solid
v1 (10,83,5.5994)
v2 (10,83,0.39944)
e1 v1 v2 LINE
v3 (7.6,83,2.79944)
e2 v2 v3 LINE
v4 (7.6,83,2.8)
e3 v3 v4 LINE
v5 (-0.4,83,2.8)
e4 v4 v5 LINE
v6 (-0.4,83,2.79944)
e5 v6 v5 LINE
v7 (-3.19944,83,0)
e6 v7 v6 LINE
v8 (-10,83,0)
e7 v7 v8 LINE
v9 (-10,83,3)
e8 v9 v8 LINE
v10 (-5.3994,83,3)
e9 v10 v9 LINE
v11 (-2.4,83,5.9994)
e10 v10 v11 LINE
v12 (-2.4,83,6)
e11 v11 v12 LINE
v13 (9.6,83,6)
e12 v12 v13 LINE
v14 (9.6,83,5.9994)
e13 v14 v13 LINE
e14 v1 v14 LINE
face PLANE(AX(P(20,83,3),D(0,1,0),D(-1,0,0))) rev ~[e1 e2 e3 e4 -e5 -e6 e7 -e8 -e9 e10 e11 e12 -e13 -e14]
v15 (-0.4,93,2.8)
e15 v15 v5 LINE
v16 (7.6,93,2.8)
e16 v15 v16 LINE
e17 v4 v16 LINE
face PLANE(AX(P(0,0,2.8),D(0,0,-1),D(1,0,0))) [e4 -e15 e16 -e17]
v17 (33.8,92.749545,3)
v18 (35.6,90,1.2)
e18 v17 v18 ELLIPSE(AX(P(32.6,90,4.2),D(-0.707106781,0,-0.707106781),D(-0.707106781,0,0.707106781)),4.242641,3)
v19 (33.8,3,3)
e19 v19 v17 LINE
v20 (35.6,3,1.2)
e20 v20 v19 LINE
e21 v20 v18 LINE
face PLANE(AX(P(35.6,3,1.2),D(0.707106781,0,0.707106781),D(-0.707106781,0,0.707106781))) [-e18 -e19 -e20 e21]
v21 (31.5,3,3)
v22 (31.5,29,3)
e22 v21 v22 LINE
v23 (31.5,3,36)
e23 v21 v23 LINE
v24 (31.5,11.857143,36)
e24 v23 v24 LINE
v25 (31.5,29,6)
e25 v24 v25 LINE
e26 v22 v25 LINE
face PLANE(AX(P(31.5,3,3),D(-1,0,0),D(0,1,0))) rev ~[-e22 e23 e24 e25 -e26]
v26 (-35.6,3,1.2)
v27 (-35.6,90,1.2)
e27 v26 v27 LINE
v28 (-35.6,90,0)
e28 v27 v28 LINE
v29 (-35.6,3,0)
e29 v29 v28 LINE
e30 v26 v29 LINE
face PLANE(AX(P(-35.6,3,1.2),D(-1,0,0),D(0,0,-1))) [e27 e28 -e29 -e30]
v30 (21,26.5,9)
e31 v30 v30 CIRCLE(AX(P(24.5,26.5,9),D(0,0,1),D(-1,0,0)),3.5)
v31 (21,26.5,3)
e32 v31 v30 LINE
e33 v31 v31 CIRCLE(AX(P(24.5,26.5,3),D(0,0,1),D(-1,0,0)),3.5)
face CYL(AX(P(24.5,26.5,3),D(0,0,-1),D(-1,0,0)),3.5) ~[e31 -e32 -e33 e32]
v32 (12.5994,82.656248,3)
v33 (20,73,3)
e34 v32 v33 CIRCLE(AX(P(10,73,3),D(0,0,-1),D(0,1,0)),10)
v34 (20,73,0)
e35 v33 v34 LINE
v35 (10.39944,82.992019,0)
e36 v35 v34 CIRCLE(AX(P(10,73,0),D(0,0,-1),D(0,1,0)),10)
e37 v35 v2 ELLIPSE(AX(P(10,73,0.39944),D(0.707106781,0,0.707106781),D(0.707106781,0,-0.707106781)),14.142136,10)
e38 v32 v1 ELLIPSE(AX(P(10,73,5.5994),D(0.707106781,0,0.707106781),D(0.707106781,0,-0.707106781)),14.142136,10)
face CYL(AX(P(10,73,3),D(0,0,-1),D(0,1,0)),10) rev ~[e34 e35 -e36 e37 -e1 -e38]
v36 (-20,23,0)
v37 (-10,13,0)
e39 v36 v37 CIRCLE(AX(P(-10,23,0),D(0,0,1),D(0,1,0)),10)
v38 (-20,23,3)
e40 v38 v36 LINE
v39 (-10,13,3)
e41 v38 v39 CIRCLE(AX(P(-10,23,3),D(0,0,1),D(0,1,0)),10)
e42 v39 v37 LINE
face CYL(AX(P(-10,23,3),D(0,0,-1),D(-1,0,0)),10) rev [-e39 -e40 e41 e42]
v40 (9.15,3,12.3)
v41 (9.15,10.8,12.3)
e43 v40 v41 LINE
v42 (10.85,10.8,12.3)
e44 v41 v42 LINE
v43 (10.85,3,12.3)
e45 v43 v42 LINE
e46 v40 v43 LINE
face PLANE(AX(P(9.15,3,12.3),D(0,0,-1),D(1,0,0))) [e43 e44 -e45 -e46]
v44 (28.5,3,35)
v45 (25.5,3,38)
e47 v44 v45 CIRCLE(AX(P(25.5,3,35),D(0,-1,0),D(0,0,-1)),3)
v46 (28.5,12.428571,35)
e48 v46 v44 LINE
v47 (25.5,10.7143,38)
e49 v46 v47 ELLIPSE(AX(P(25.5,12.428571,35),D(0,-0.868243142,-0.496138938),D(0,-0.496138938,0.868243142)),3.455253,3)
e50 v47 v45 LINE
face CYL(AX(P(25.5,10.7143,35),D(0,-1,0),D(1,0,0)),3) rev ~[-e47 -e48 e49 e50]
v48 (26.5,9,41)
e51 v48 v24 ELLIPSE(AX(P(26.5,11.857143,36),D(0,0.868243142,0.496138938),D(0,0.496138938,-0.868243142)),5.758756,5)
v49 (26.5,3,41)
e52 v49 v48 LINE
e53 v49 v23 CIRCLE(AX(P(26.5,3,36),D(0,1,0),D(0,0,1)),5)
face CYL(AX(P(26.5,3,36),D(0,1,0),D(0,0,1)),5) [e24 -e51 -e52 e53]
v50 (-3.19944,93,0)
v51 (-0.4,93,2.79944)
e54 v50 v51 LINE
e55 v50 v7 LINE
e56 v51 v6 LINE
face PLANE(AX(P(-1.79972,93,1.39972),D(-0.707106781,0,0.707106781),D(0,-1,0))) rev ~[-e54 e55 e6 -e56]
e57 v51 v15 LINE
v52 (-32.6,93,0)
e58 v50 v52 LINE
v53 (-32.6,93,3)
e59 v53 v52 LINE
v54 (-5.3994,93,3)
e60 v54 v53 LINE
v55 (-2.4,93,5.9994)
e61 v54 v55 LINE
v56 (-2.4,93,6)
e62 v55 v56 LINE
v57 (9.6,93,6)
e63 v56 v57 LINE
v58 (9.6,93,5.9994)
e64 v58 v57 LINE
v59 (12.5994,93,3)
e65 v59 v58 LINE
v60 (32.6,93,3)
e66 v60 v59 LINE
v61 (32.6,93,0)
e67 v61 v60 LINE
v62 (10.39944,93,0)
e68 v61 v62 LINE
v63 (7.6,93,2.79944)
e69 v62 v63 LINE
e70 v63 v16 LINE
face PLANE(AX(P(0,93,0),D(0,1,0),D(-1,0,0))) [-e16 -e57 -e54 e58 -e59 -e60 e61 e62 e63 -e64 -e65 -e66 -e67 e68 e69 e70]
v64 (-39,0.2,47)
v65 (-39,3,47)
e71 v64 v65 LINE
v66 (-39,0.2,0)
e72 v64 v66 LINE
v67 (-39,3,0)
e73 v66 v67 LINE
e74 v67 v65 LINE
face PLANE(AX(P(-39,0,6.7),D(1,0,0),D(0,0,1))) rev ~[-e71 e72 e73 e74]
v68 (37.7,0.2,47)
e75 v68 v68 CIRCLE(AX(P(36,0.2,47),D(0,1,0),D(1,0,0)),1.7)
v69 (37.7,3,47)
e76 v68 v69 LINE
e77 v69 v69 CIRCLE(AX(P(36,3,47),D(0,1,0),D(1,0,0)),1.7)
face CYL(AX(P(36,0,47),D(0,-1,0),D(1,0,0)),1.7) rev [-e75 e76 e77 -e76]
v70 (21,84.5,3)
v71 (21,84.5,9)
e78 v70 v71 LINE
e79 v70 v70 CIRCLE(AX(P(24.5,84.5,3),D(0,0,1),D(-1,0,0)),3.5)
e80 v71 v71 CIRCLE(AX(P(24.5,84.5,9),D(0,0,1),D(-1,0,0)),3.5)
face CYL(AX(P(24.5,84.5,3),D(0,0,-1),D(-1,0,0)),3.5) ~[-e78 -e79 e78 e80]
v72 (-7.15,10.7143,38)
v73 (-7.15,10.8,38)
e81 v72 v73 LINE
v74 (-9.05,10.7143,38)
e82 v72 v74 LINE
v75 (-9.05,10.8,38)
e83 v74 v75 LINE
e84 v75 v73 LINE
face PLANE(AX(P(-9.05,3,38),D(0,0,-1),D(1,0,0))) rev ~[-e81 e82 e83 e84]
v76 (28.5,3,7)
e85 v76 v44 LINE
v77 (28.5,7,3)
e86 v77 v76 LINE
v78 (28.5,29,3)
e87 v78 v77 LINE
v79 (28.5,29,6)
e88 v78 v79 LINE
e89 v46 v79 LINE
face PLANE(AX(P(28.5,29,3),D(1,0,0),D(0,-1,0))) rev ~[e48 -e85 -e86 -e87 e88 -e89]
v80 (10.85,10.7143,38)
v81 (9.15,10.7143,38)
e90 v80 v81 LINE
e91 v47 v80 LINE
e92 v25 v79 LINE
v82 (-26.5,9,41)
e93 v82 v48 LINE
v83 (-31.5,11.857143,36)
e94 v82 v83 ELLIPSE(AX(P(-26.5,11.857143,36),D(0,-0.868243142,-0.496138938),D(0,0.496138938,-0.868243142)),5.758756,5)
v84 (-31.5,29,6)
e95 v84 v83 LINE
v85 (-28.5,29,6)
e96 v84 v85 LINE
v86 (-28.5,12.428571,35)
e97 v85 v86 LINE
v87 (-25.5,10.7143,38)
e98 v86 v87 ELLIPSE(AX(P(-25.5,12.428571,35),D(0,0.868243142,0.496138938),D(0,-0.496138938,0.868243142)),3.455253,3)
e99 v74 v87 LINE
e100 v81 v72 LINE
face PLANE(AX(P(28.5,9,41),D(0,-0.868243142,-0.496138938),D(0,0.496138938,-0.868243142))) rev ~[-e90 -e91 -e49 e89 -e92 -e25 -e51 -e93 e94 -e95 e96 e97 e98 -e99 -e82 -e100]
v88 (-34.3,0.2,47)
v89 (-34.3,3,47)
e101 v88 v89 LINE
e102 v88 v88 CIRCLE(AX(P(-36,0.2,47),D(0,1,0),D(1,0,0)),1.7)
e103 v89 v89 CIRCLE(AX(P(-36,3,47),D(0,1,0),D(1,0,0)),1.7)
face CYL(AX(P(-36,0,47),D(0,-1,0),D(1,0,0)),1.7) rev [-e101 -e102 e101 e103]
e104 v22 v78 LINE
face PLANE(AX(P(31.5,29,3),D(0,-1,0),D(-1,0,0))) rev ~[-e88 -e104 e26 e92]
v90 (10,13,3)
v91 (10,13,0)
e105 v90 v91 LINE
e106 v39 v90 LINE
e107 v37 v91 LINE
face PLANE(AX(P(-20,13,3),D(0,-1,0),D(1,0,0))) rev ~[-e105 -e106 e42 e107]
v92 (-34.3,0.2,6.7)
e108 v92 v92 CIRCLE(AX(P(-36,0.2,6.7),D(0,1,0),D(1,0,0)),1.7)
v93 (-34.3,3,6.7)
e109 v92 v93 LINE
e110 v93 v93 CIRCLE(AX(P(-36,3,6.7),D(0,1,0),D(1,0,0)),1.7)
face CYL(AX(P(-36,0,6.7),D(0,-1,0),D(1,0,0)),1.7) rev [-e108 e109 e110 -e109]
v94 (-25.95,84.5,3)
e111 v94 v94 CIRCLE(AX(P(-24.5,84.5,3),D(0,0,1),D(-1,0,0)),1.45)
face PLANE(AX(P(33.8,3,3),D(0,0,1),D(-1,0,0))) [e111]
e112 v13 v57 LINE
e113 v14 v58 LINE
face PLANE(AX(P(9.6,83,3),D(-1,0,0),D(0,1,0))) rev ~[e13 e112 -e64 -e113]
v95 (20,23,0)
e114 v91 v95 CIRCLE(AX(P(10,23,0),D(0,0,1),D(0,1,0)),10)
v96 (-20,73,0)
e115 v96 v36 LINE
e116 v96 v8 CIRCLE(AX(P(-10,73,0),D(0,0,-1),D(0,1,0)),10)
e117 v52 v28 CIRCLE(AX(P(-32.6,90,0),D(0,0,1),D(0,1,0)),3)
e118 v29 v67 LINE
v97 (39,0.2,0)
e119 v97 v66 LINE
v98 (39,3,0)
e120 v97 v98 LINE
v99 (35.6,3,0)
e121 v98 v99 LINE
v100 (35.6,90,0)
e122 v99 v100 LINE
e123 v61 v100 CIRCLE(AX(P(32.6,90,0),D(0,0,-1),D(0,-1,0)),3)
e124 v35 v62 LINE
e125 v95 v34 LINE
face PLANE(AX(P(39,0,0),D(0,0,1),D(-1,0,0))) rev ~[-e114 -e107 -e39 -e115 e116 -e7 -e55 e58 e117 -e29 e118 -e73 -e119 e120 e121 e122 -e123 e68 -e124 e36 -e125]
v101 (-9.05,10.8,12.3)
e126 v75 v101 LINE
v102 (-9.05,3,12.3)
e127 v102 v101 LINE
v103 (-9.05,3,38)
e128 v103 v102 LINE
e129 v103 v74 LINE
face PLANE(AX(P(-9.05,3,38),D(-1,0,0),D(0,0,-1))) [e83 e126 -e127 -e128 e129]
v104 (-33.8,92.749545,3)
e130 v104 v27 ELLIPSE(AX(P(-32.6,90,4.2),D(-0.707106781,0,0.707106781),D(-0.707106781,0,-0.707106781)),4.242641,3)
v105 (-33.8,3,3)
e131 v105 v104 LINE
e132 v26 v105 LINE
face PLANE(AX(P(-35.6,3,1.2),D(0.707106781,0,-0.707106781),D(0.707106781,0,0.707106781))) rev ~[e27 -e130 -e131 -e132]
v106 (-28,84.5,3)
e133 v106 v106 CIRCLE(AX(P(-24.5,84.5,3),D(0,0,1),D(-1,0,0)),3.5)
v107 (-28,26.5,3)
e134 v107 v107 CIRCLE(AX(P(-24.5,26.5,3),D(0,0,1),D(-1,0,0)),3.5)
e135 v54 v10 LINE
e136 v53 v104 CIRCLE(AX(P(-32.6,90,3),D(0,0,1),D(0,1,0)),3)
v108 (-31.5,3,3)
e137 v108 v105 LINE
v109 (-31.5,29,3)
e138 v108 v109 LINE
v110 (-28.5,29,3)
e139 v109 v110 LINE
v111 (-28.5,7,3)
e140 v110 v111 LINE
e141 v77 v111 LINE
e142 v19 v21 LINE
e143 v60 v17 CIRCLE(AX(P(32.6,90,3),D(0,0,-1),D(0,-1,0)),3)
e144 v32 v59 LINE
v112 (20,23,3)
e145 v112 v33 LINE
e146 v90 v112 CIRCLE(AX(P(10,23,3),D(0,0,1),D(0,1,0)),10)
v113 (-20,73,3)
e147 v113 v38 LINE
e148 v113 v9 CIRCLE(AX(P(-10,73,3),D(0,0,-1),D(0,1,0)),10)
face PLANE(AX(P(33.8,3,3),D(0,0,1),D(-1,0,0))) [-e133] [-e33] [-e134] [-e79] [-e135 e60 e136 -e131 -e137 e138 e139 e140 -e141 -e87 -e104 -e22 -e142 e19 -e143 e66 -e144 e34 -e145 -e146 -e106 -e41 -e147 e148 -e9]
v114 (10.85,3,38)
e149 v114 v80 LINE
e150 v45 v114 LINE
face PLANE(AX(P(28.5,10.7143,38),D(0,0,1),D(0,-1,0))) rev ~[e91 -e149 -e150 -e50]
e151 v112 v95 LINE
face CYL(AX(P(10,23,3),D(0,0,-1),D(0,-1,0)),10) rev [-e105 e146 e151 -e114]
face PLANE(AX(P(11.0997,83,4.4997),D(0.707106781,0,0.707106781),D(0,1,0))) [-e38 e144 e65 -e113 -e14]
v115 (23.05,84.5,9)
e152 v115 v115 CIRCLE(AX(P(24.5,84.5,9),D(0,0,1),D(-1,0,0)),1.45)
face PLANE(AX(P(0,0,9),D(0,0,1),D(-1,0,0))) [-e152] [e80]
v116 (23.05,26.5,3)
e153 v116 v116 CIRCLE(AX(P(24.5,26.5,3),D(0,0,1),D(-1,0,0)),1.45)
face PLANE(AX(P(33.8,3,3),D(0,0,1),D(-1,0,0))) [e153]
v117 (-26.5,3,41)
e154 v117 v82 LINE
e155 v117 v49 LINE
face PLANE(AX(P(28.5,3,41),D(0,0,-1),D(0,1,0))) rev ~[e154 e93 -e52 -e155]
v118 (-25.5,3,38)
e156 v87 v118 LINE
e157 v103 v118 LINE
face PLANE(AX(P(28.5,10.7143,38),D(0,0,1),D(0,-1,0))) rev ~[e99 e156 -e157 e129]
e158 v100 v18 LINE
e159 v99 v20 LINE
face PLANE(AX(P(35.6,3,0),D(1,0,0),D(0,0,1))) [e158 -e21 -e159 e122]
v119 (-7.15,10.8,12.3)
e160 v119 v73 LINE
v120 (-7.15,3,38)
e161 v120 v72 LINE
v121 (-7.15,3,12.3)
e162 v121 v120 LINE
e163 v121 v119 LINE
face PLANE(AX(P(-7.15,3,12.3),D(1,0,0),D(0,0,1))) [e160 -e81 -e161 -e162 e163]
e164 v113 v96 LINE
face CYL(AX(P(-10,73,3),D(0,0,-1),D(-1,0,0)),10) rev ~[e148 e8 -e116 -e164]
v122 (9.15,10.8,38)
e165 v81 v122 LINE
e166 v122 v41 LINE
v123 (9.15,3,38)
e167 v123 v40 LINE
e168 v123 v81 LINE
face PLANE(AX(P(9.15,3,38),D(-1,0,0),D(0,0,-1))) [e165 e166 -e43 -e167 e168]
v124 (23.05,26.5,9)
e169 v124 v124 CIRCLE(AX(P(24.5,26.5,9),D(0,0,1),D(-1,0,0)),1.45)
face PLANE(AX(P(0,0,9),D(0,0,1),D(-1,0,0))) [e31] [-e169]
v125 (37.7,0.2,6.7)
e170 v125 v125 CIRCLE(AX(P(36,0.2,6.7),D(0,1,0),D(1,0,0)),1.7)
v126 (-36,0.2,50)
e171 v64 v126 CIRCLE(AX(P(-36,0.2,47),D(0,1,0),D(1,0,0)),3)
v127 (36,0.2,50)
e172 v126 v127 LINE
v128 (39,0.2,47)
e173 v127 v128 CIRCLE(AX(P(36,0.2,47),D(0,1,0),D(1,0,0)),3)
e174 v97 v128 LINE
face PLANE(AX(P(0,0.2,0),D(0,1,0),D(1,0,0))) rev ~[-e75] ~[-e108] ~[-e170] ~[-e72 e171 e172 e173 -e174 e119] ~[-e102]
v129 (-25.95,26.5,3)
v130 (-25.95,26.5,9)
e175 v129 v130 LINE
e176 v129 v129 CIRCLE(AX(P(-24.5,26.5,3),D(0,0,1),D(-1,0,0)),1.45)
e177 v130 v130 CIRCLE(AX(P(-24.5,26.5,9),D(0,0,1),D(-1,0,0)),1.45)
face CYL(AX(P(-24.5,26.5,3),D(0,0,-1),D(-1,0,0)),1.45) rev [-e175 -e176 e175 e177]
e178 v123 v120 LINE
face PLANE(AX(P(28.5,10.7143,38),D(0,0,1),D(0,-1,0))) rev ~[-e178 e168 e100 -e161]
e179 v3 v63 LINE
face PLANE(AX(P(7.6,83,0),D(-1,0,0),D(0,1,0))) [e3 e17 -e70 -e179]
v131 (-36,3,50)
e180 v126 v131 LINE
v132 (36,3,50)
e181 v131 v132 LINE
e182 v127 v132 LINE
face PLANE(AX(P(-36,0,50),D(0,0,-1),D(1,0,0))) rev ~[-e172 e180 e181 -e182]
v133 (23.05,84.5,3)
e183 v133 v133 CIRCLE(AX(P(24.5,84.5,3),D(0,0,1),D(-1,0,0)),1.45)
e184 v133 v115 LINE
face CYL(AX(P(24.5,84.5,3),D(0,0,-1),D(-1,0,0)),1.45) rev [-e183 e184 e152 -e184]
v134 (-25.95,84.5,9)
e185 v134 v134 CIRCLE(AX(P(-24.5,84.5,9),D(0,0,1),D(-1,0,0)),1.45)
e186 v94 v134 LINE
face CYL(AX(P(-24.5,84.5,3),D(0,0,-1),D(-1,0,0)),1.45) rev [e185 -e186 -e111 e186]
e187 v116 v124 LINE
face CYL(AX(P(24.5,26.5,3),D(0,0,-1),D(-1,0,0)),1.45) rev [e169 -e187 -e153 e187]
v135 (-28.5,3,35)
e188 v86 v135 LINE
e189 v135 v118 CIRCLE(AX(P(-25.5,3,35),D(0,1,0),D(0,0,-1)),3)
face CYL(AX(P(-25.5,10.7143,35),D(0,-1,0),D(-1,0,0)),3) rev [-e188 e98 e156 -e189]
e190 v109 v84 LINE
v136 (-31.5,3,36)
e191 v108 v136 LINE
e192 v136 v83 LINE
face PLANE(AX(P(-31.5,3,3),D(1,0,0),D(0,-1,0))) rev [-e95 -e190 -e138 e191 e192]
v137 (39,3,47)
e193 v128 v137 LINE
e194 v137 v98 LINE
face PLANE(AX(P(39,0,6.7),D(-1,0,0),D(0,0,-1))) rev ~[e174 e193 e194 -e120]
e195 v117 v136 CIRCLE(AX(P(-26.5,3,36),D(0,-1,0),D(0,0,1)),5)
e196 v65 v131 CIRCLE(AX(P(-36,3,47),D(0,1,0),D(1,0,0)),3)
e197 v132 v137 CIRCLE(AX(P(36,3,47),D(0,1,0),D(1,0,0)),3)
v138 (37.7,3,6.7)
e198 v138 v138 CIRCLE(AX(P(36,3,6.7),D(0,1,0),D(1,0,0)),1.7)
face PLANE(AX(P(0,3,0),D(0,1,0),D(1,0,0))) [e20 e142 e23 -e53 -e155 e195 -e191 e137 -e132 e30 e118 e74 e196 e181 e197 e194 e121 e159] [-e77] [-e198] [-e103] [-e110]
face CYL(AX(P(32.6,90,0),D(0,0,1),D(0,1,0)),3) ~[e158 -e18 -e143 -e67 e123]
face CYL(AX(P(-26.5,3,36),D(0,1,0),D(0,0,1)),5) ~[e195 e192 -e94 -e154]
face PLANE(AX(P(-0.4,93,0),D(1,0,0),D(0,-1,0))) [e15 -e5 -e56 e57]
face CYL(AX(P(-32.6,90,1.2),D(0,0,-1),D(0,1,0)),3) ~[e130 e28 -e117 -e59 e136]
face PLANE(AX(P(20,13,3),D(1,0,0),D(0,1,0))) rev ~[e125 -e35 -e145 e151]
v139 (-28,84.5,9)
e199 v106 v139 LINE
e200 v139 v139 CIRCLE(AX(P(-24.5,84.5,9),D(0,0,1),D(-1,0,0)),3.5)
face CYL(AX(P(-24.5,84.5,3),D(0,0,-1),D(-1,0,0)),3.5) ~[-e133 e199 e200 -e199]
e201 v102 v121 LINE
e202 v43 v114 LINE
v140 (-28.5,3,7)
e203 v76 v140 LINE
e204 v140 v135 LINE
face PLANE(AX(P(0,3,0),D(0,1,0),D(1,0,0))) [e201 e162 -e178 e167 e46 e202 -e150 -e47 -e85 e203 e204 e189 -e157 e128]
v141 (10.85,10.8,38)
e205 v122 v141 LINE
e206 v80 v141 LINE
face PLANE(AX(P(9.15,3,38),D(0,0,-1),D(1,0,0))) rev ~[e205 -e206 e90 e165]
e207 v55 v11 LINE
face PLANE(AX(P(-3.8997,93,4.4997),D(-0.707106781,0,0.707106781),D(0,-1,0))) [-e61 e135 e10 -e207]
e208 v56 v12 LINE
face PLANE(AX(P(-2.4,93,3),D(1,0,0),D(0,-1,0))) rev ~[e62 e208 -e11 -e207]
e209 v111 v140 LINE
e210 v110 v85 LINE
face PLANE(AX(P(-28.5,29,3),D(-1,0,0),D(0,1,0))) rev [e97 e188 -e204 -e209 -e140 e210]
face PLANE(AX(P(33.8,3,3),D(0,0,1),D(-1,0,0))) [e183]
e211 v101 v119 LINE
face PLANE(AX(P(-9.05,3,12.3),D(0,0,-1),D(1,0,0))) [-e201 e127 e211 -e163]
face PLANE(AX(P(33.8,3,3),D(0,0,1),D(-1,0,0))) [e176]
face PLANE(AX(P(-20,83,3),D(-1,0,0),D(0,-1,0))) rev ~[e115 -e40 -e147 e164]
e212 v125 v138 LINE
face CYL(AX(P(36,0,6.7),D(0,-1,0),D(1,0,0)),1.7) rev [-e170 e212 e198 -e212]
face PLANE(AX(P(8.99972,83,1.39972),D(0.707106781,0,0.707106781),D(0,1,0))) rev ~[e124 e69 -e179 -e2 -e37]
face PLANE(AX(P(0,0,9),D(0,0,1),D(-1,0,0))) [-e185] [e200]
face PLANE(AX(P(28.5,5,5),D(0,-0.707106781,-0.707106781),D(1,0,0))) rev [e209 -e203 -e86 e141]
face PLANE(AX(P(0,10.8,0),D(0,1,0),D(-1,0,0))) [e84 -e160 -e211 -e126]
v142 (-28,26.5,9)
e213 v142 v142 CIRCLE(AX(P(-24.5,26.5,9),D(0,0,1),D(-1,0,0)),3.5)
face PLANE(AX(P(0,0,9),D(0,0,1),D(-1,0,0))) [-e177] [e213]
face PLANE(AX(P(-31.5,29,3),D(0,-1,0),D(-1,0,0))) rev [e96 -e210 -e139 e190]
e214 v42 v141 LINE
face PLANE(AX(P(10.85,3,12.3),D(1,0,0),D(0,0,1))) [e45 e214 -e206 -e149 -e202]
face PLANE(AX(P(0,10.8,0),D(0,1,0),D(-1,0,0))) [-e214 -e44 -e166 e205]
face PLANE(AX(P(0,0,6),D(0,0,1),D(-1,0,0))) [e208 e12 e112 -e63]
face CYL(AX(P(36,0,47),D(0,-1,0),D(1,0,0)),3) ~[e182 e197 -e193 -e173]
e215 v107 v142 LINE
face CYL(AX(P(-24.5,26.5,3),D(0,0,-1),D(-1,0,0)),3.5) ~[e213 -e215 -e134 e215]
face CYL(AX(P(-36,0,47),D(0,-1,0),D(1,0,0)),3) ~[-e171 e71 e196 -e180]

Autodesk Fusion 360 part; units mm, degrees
sketch "Sketch3" plane through (0, 0, 0) normal (0, 1, 0) x (1, 0, 0)
  line L0 (-39, -50) -> (39, -50)
  line L1 (39, -50) -> (39, 0)
  line L2 (39, 0) -> (-39, 0)
  line L3 (-39, 0) -> (-39, -50)
  line L4 (-56.129, 0) -> (56.129, 0) construction
  circle A0 centre (-36, -47) radius 1.7
  circle A1 centre (-36, -47) radius 3
  circle A2 centre (36, -47) radius 1.7
  circle A3 centre (36, -47) radius 3
  circle A4 centre (-36, -6.7) radius 1.7
  circle A5 centre (-36, -6.7) radius 3
  circle A6 centre (36, -6.7) radius 1.7
  circle A7 centre (36, -6.7) radius 3
  line L5 (-39, -5) -> (39, -5) construction
  dimension "d32" = 50
  dimension "d33" = 78
  dimension "d34" = 39
  dimension "d35" = 3.4
  dimension "d36" = 6
  dimension "d37" = 3.4
  dimension "d38" = 6
  dimension "d39" = 3.4
  dimension "d40" = 6
  dimension "d41" = 3.4
  dimension "d42" = 6
  dimension "d43" = 5
extrude "Extrude3" add sketch "Sketch3" along normal blind 3 contours A7 | A5 | L0 L1 L2 L3 A1 A3 | A1 | A3
sketch "Sketch4" plane through (0, 3, 0) normal (0, 1, 0) x (-1, 0, 0)
  circle A0 centre (36, 47) radius 1.7
  circle A1 centre (36, 6.7) radius 1.7
  circle A2 centre (-36, 47) radius 1.7
  circle A3 centre (-36, 6.7) radius 1.7
  line L0 (36, 50) -> (-36, 50)
  arc A4 (-36, 50) -> (-39, 47) centre (-36, 47) ccw
  line L1 (-39, 47) -> (-39, 0)
  line L2 (-39, 0) -> (39, 0)
  line L3 (39, 0) -> (39, 47)
  arc A5 (39, 47) -> (36, 50) centre (36, 47) ccw
  line L4 (-39, 3) -> (39, 3) construction
  line L5 (-35.6, 3) -> (35.6, 3)
  line L6 (35.6, 3) -> (35.6, 0)
  line L7 (35.6, 0) -> (-35.6, 0)
  line L8 (-35.6, 0) -> (-35.6, 3)
  line L9 (0, 50) -> (0, 0) construction
  line L10 (35.6, 1.2) -> (33.8, 3)
  line L11 (35.6, 1.2) -> (38.7868, 1.2) construction
  line L12 (-35.6, 1.2) -> (-33.8, 3)
  line L13 (-35.6, 1.2) -> (-32.9375, 1.2) construction
  point P0 (0, 3)
  dimension "d46" = 3
  dimension "d47" = 71.2
  dimension "d48" = 135
  dimension "d49" = 1.2
  dimension "d50" = 45
  dimension "d51" = 1.2
extrude "Extrude4" add sketch "Sketch4" along normal blind 90 contours L2 L5 L6 L7 L8 L10 L12
sketch "Sketch5" plane through (0, 0, 3) normal (0, 0, 1) x (-1, 0, 0)
  line L0 (33.8, -3) -> (-33.8, -3)
  line L1 (-33.8, -3) -> (-33.8, -93)
  line L2 (-33.8, -93) -> (33.8, -93)
  line L3 (33.8, -93) -> (33.8, -3)
  line L4 (0, -3) -> (0, -93) construction
  circle A0 centre (24.5, -26.5) radius 1.45
  circle A1 centre (24.5, -26.5) radius 3.5
  circle A2 centre (24.5, -84.5) radius 1.45
  circle A3 centre (24.5, -84.5) radius 3.5
  circle A4 centre (-24.5, -26.5) radius 1.45
  circle A5 centre (-24.5, -26.5) radius 3.5
  circle A6 centre (-24.5, -84.5) radius 1.45
  circle A7 centre (-24.5, -84.5) radius 3.5
  line L5 (28, -3) -> (-28, -3)
  line L6 (-28, -3) -> (-28, -88) construction
  line L7 (-28, -88) -> (28, -88) construction
  line L8 (28, -88) -> (28, -3) construction
  line L9 (20, -13) -> (-20, -13)
  line L10 (-20, -13) -> (-20, -83)
  line L11 (-20, -83) -> (20, -83)
  line L12 (20, -83) -> (20, -13)
  line L13 (33.8, -48) -> (-33.8, -48) construction
  line L14 (-28.5, -3) -> (-31.5, -3)
  line L15 (-31.5, -3) -> (-31.5, -29)
  line L16 (-31.5, -29) -> (-28.5, -29)
  line L17 (-28.5, -29) -> (-28.5, -3)
  point P0 (0, -88)
  point P1 (-28, -3)
  point P2 (0, -13)
  point P3 (20, -48)
  point P4 (-33.8, -48)
  point P5 (33.8, -48)
  dimension "d54" = 2.9
  dimension "d55" = 7
  dimension "d56" = 2.9
  dimension "d57" = 7
  dimension "d58" = 2.9
  dimension "d59" = 7
  dimension "d60" = 2.9
  dimension "d61" = 7
  dimension "d62" = 58
  dimension "d63" = 49
  dimension "d64" = 23.5
  dimension "d70" = 56
  dimension "d71" = 85
  dimension "d86" = 70
  dimension "d87" = 70
  dimension "d88" = 40
  dimension "d159" = 3
  dimension "d160" = 26
  dimension "d161" = 7
extrude "Extrude8" add sketch "Sketch5" along normal blind 38 contours L0 L14 L15 L16 L17
chamfer "Chamfer4" distance 20 distance2 35 1 edges at (30, 29, 41) measured on face at (30.5, 11.6667, 41)
mirror "Mirror1" about plane through (0, 0, 0) normal (1, 0, 0) of "Extrude8"
extrude "Extrude7" cut sketch "Sketch5" against normal blind 3 contours L9 L10 L11 L12
extrude "Extrude5" add sketch "Sketch5" along normal blind 6 contours A1 | A3 | A5 | A7
fillet "Fillet1" radius 3 2 edges at (35.6, 93, 0.6) (-35.6, 93, 0.6)
sketch "Sketch7" plane through (0, 0, 0) normal (0, -1, 0) x (1, 0, 0)
  circle A0 centre (-36, 47) radius 1.7
  circle A1 centre (-36, 6.7) radius 1.7
  circle A2 centre (36, 47) radius 1.7
  circle A3 centre (36, 6.7) radius 1.7
  line L0 (36, 50) -> (-36, 50)
  arc A4 (-36, 50) -> (-39, 47) centre (-36, 47) ccw
  line L1 (-39, 47) -> (-39, 0)
  line L2 (-39, 0) -> (39, 0)
  line L3 (39, 0) -> (39, 47)
  arc A5 (39, 47) -> (36, 50) centre (36, 47) ccw
  line L4 (-28, 50) -> (-28, 0) construction
  line L5 (28, 50) -> (28, 0) construction
  line L6 (19, 50) -> (19, 48.3878)
  line L7 (-39, 3) -> (39, 3) construction
  line L8 (-21, 9) -> (-28, 9)
  line L9 (28, 9) -> (21, 9)
  point P0 (-24.5, 9)
  point P1 (24.5, 9)
  dimension "d72" = 11
  dimension "d73" = 11
  dimension "d74" = 3
fillet "Fillet2" radius 10 4 edges at (-20, 13, 1.5) (20, 13, 1.5) (-20, 83, 1.5) (20, 83, 1.5)
sketch "Sketch8" plane through (0, 0, 0) normal (0, 0, -1) x (1, 0, 0)
  line L0 (-10, -13) -> (10, -13)
  arc A0 (20, -23) -> (10, -13) centre (10, -23) ccw
  line L1 (20, -23) -> (20, -73)
  arc A1 (10, -83) -> (20, -73) centre (10, -73) ccw
  line L2 (10, -83) -> (-10, -83)
  arc A2 (-20, -73) -> (-10, -83) centre (-10, -73) ccw
  line L3 (-20, -73) -> (-20, -23)
  arc A3 (-10, -13) -> (-20, -23) centre (-10, -23) ccw
  arc A4 (-35.6, -90) -> (-32.6, -93) centre (-32.6, -90) ccw
  line L4 (-32.6, -93) -> (32.6, -93)
  arc A5 (32.6, -93) -> (35.6, -90) centre (32.6, -90) ccw
  line L5 (35.6, -90) -> (35.6, -3)
  line L6 (35.6, -3) -> (39, -3)
  line L7 (39, -3) -> (39, 0)
  line L8 (39, 0) -> (-39, 0)
  line L9 (-39, 0) -> (-39, -3)
  line L10 (-39, -3) -> (-35.6, -3)
  line L11 (-35.6, -3) -> (-35.6, -90)
  line L12 (3.6, -93) -> (3.6, -80.0711) construction
  line L13 (7.6, -93) -> (-0.4, -93)
  line L14 (-0.4, -93) -> (-0.4, -73.9514)
  line L15 (-0.4, -73.9514) -> (7.6, -73.9514)
  line L16 (7.6, -73.9514) -> (7.6, -93)
  dimension "d166" = 8
  dimension "d167" = 32
extrude "Extrude9" cut sketch "Sketch8" against normal blind 2.8 contours L2 L4 L13 L14 L16
sketch "Sketch11" plane through (0, 0, 3) normal (0, 0, 1) x (-1, 0, 0)
  line L0 (28.5, -29) -> (28.5, -3)
  line L1 (28.5, -3) -> (-28.5, -3)
  line L2 (-28.5, -3) -> (-28.5, -29)
  line L3 (-28.5, -29) -> (-31.5, -29)
  line L4 (-31.5, -29) -> (-31.5, -3)
  line L5 (-31.5, -3) -> (-33.8, -3)
  line L6 (-33.8, -3) -> (-33.8, -92.7495)
  arc A0 (-33.8, -92.7495) -> (-32.6, -93) centre (-32.6, -90) ccw
  line L7 (-32.6, -93) -> (32.6, -93)
  arc A1 (32.6, -93) -> (33.8, -92.7495) centre (32.6, -90) ccw
  line L8 (33.8, -92.7495) -> (33.8, -3)
  line L9 (33.8, -3) -> (31.5, -3)
  line L10 (31.5, -3) -> (31.5, -29)
  line L11 (31.5, -29) -> (28.5, -29)
  circle A2 centre (-24.5, -26.5) radius 3.5
  circle A3 centre (24.5, -26.5) radius 3.5
  line L12 (-10, -13) -> (10, -13)
  arc A4 (20, -23) -> (10, -13) centre (10, -23) ccw
  line L13 (20, -23) -> (20, -73)
  arc A5 (10, -83) -> (20, -73) centre (10, -73) ccw
  line L14 (10, -83) -> (-10, -83)
  arc A6 (-20, -73) -> (-10, -83) centre (-10, -73) ccw
  line L15 (-20, -73) -> (-20, -23)
  arc A7 (-10, -13) -> (-20, -23) centre (-10, -23) ccw
  circle A8 centre (24.5, -84.5) radius 3.5
  circle A9 centre (-24.5, -84.5) radius 3.5
  line L16 (-7.6, -83) -> (-7.6, -93)
  line L17 (0.4, -93) -> (0.4, -83)
  line L18 (-9.6, -83) -> (-9.6, -93)
  line L19 (2.4, -93) -> (2.4, -83)
  dimension "d170" = 2
  dimension "d171" = 2
extrude "Extrude10" add sketch "Sketch11" along normal blind 3 contours L7 L14 L17 L19 | L7 L14 L16 L17 | L7 L14 L16 L18
chamfer "Chamfer5" distance 3 angle 45 2 edges at (-2.4, 88, 3) (9.6, 88, 3)
chamfer "Chamfer6" distance 4 angle 45 1 edges at (0, 3, 3)
chamfer "Chamfer7" distance 2.8 angle 45 2 edges at (7.6, 88, 0) (-0.4, 88, 0)
chamfer "Chamfer8" distance 35 distance2 20 1 edges at (-30, 29, 41) measured on face at (-30.5, 29, 15.6667)
sketch "Sketch13" plane through (28.5, 0, 0) normal (-1, 0, 0) x (0, -1, 0)
  line L0 (-7, 3) -> (-3, 7)
  line L1 (-3, 7) -> (-3, 41)
  line L2 (-3, 41) -> (-9, 41)
  line L3 (-9, 41) -> (-29, 6)
  line L4 (-29, 6) -> (-29, 3)
  line L5 (-29, 3) -> (-7, 3)
  line L6 (-3, 41) -> (-10.7143, 41)
  line L7 (-10.7143, 41) -> (-10.7143, 38)
  line L8 (-10.7143, 38) -> (-3, 38)
  line L9 (-3, 38) -> (-3, 41)
  dimension "d311" = 3
extrude "Extrude12" add sketch "Sketch13" along normal up to surface (57 mm away) contours L1 L2 L3 L6 L8 L9
sketch "Sketch14" plane through (0, 3, 0) normal (0, 1, 0) x (-1, 0, 0)
  line L0 (28.5, 38) -> (-28.5, 38)
  line L1 (-28.5, 38) -> (-28.5, 7)
  line L2 (-28.5, 7) -> (28.5, 7)
  line L3 (28.5, 7) -> (28.5, 38)
  line L4 (-10.85, 38) -> (-9.15, 38)
  line L5 (-9.15, 38) -> (-9.15, 12.3)
  line L6 (-9.15, 12.3) -> (-10.85, 12.3)
  line L7 (-10.85, 12.3) -> (-10.85, 38)
  line L8 (7.15, 38) -> (9.05, 38)
  line L9 (9.05, 38) -> (9.05, 12.3)
  line L10 (9.05, 12.3) -> (7.15, 12.3)
  line L11 (7.15, 12.3) -> (7.15, 38)
extrude "Extrude13" add sketch "Sketch14" along normal blind 7.8 contours L0 L8 L9 L10 L11 | L0 L4 L5 L6 L7
fillet "Fillet4" radius 5 2 edges at (-31.5, 6, 41) (31.5, 6, 41)
fillet "Fillet5" radius 3 2 edges at (28.5, 6.8571, 38) (-28.5, 6.8571, 38)
extrude "Extrude14" cut 1 faces at (-11.4895, 0, 33.3208) along direction (0, 1, 0) blind 0.2
equation "d34 = d33 / 2"
equation "d37 = d35"
equation "d38 = d36"
equation "d39 = d35"
equation "d40 = d36"
equation "d41 = d35"
equation "d42 = d36"
equation "d56 = d54"
equation "d57 = d55"
equation "d58 = d54"
equation "d59 = d55"
equation "d60 = d54"
equation "d61 = d55"
